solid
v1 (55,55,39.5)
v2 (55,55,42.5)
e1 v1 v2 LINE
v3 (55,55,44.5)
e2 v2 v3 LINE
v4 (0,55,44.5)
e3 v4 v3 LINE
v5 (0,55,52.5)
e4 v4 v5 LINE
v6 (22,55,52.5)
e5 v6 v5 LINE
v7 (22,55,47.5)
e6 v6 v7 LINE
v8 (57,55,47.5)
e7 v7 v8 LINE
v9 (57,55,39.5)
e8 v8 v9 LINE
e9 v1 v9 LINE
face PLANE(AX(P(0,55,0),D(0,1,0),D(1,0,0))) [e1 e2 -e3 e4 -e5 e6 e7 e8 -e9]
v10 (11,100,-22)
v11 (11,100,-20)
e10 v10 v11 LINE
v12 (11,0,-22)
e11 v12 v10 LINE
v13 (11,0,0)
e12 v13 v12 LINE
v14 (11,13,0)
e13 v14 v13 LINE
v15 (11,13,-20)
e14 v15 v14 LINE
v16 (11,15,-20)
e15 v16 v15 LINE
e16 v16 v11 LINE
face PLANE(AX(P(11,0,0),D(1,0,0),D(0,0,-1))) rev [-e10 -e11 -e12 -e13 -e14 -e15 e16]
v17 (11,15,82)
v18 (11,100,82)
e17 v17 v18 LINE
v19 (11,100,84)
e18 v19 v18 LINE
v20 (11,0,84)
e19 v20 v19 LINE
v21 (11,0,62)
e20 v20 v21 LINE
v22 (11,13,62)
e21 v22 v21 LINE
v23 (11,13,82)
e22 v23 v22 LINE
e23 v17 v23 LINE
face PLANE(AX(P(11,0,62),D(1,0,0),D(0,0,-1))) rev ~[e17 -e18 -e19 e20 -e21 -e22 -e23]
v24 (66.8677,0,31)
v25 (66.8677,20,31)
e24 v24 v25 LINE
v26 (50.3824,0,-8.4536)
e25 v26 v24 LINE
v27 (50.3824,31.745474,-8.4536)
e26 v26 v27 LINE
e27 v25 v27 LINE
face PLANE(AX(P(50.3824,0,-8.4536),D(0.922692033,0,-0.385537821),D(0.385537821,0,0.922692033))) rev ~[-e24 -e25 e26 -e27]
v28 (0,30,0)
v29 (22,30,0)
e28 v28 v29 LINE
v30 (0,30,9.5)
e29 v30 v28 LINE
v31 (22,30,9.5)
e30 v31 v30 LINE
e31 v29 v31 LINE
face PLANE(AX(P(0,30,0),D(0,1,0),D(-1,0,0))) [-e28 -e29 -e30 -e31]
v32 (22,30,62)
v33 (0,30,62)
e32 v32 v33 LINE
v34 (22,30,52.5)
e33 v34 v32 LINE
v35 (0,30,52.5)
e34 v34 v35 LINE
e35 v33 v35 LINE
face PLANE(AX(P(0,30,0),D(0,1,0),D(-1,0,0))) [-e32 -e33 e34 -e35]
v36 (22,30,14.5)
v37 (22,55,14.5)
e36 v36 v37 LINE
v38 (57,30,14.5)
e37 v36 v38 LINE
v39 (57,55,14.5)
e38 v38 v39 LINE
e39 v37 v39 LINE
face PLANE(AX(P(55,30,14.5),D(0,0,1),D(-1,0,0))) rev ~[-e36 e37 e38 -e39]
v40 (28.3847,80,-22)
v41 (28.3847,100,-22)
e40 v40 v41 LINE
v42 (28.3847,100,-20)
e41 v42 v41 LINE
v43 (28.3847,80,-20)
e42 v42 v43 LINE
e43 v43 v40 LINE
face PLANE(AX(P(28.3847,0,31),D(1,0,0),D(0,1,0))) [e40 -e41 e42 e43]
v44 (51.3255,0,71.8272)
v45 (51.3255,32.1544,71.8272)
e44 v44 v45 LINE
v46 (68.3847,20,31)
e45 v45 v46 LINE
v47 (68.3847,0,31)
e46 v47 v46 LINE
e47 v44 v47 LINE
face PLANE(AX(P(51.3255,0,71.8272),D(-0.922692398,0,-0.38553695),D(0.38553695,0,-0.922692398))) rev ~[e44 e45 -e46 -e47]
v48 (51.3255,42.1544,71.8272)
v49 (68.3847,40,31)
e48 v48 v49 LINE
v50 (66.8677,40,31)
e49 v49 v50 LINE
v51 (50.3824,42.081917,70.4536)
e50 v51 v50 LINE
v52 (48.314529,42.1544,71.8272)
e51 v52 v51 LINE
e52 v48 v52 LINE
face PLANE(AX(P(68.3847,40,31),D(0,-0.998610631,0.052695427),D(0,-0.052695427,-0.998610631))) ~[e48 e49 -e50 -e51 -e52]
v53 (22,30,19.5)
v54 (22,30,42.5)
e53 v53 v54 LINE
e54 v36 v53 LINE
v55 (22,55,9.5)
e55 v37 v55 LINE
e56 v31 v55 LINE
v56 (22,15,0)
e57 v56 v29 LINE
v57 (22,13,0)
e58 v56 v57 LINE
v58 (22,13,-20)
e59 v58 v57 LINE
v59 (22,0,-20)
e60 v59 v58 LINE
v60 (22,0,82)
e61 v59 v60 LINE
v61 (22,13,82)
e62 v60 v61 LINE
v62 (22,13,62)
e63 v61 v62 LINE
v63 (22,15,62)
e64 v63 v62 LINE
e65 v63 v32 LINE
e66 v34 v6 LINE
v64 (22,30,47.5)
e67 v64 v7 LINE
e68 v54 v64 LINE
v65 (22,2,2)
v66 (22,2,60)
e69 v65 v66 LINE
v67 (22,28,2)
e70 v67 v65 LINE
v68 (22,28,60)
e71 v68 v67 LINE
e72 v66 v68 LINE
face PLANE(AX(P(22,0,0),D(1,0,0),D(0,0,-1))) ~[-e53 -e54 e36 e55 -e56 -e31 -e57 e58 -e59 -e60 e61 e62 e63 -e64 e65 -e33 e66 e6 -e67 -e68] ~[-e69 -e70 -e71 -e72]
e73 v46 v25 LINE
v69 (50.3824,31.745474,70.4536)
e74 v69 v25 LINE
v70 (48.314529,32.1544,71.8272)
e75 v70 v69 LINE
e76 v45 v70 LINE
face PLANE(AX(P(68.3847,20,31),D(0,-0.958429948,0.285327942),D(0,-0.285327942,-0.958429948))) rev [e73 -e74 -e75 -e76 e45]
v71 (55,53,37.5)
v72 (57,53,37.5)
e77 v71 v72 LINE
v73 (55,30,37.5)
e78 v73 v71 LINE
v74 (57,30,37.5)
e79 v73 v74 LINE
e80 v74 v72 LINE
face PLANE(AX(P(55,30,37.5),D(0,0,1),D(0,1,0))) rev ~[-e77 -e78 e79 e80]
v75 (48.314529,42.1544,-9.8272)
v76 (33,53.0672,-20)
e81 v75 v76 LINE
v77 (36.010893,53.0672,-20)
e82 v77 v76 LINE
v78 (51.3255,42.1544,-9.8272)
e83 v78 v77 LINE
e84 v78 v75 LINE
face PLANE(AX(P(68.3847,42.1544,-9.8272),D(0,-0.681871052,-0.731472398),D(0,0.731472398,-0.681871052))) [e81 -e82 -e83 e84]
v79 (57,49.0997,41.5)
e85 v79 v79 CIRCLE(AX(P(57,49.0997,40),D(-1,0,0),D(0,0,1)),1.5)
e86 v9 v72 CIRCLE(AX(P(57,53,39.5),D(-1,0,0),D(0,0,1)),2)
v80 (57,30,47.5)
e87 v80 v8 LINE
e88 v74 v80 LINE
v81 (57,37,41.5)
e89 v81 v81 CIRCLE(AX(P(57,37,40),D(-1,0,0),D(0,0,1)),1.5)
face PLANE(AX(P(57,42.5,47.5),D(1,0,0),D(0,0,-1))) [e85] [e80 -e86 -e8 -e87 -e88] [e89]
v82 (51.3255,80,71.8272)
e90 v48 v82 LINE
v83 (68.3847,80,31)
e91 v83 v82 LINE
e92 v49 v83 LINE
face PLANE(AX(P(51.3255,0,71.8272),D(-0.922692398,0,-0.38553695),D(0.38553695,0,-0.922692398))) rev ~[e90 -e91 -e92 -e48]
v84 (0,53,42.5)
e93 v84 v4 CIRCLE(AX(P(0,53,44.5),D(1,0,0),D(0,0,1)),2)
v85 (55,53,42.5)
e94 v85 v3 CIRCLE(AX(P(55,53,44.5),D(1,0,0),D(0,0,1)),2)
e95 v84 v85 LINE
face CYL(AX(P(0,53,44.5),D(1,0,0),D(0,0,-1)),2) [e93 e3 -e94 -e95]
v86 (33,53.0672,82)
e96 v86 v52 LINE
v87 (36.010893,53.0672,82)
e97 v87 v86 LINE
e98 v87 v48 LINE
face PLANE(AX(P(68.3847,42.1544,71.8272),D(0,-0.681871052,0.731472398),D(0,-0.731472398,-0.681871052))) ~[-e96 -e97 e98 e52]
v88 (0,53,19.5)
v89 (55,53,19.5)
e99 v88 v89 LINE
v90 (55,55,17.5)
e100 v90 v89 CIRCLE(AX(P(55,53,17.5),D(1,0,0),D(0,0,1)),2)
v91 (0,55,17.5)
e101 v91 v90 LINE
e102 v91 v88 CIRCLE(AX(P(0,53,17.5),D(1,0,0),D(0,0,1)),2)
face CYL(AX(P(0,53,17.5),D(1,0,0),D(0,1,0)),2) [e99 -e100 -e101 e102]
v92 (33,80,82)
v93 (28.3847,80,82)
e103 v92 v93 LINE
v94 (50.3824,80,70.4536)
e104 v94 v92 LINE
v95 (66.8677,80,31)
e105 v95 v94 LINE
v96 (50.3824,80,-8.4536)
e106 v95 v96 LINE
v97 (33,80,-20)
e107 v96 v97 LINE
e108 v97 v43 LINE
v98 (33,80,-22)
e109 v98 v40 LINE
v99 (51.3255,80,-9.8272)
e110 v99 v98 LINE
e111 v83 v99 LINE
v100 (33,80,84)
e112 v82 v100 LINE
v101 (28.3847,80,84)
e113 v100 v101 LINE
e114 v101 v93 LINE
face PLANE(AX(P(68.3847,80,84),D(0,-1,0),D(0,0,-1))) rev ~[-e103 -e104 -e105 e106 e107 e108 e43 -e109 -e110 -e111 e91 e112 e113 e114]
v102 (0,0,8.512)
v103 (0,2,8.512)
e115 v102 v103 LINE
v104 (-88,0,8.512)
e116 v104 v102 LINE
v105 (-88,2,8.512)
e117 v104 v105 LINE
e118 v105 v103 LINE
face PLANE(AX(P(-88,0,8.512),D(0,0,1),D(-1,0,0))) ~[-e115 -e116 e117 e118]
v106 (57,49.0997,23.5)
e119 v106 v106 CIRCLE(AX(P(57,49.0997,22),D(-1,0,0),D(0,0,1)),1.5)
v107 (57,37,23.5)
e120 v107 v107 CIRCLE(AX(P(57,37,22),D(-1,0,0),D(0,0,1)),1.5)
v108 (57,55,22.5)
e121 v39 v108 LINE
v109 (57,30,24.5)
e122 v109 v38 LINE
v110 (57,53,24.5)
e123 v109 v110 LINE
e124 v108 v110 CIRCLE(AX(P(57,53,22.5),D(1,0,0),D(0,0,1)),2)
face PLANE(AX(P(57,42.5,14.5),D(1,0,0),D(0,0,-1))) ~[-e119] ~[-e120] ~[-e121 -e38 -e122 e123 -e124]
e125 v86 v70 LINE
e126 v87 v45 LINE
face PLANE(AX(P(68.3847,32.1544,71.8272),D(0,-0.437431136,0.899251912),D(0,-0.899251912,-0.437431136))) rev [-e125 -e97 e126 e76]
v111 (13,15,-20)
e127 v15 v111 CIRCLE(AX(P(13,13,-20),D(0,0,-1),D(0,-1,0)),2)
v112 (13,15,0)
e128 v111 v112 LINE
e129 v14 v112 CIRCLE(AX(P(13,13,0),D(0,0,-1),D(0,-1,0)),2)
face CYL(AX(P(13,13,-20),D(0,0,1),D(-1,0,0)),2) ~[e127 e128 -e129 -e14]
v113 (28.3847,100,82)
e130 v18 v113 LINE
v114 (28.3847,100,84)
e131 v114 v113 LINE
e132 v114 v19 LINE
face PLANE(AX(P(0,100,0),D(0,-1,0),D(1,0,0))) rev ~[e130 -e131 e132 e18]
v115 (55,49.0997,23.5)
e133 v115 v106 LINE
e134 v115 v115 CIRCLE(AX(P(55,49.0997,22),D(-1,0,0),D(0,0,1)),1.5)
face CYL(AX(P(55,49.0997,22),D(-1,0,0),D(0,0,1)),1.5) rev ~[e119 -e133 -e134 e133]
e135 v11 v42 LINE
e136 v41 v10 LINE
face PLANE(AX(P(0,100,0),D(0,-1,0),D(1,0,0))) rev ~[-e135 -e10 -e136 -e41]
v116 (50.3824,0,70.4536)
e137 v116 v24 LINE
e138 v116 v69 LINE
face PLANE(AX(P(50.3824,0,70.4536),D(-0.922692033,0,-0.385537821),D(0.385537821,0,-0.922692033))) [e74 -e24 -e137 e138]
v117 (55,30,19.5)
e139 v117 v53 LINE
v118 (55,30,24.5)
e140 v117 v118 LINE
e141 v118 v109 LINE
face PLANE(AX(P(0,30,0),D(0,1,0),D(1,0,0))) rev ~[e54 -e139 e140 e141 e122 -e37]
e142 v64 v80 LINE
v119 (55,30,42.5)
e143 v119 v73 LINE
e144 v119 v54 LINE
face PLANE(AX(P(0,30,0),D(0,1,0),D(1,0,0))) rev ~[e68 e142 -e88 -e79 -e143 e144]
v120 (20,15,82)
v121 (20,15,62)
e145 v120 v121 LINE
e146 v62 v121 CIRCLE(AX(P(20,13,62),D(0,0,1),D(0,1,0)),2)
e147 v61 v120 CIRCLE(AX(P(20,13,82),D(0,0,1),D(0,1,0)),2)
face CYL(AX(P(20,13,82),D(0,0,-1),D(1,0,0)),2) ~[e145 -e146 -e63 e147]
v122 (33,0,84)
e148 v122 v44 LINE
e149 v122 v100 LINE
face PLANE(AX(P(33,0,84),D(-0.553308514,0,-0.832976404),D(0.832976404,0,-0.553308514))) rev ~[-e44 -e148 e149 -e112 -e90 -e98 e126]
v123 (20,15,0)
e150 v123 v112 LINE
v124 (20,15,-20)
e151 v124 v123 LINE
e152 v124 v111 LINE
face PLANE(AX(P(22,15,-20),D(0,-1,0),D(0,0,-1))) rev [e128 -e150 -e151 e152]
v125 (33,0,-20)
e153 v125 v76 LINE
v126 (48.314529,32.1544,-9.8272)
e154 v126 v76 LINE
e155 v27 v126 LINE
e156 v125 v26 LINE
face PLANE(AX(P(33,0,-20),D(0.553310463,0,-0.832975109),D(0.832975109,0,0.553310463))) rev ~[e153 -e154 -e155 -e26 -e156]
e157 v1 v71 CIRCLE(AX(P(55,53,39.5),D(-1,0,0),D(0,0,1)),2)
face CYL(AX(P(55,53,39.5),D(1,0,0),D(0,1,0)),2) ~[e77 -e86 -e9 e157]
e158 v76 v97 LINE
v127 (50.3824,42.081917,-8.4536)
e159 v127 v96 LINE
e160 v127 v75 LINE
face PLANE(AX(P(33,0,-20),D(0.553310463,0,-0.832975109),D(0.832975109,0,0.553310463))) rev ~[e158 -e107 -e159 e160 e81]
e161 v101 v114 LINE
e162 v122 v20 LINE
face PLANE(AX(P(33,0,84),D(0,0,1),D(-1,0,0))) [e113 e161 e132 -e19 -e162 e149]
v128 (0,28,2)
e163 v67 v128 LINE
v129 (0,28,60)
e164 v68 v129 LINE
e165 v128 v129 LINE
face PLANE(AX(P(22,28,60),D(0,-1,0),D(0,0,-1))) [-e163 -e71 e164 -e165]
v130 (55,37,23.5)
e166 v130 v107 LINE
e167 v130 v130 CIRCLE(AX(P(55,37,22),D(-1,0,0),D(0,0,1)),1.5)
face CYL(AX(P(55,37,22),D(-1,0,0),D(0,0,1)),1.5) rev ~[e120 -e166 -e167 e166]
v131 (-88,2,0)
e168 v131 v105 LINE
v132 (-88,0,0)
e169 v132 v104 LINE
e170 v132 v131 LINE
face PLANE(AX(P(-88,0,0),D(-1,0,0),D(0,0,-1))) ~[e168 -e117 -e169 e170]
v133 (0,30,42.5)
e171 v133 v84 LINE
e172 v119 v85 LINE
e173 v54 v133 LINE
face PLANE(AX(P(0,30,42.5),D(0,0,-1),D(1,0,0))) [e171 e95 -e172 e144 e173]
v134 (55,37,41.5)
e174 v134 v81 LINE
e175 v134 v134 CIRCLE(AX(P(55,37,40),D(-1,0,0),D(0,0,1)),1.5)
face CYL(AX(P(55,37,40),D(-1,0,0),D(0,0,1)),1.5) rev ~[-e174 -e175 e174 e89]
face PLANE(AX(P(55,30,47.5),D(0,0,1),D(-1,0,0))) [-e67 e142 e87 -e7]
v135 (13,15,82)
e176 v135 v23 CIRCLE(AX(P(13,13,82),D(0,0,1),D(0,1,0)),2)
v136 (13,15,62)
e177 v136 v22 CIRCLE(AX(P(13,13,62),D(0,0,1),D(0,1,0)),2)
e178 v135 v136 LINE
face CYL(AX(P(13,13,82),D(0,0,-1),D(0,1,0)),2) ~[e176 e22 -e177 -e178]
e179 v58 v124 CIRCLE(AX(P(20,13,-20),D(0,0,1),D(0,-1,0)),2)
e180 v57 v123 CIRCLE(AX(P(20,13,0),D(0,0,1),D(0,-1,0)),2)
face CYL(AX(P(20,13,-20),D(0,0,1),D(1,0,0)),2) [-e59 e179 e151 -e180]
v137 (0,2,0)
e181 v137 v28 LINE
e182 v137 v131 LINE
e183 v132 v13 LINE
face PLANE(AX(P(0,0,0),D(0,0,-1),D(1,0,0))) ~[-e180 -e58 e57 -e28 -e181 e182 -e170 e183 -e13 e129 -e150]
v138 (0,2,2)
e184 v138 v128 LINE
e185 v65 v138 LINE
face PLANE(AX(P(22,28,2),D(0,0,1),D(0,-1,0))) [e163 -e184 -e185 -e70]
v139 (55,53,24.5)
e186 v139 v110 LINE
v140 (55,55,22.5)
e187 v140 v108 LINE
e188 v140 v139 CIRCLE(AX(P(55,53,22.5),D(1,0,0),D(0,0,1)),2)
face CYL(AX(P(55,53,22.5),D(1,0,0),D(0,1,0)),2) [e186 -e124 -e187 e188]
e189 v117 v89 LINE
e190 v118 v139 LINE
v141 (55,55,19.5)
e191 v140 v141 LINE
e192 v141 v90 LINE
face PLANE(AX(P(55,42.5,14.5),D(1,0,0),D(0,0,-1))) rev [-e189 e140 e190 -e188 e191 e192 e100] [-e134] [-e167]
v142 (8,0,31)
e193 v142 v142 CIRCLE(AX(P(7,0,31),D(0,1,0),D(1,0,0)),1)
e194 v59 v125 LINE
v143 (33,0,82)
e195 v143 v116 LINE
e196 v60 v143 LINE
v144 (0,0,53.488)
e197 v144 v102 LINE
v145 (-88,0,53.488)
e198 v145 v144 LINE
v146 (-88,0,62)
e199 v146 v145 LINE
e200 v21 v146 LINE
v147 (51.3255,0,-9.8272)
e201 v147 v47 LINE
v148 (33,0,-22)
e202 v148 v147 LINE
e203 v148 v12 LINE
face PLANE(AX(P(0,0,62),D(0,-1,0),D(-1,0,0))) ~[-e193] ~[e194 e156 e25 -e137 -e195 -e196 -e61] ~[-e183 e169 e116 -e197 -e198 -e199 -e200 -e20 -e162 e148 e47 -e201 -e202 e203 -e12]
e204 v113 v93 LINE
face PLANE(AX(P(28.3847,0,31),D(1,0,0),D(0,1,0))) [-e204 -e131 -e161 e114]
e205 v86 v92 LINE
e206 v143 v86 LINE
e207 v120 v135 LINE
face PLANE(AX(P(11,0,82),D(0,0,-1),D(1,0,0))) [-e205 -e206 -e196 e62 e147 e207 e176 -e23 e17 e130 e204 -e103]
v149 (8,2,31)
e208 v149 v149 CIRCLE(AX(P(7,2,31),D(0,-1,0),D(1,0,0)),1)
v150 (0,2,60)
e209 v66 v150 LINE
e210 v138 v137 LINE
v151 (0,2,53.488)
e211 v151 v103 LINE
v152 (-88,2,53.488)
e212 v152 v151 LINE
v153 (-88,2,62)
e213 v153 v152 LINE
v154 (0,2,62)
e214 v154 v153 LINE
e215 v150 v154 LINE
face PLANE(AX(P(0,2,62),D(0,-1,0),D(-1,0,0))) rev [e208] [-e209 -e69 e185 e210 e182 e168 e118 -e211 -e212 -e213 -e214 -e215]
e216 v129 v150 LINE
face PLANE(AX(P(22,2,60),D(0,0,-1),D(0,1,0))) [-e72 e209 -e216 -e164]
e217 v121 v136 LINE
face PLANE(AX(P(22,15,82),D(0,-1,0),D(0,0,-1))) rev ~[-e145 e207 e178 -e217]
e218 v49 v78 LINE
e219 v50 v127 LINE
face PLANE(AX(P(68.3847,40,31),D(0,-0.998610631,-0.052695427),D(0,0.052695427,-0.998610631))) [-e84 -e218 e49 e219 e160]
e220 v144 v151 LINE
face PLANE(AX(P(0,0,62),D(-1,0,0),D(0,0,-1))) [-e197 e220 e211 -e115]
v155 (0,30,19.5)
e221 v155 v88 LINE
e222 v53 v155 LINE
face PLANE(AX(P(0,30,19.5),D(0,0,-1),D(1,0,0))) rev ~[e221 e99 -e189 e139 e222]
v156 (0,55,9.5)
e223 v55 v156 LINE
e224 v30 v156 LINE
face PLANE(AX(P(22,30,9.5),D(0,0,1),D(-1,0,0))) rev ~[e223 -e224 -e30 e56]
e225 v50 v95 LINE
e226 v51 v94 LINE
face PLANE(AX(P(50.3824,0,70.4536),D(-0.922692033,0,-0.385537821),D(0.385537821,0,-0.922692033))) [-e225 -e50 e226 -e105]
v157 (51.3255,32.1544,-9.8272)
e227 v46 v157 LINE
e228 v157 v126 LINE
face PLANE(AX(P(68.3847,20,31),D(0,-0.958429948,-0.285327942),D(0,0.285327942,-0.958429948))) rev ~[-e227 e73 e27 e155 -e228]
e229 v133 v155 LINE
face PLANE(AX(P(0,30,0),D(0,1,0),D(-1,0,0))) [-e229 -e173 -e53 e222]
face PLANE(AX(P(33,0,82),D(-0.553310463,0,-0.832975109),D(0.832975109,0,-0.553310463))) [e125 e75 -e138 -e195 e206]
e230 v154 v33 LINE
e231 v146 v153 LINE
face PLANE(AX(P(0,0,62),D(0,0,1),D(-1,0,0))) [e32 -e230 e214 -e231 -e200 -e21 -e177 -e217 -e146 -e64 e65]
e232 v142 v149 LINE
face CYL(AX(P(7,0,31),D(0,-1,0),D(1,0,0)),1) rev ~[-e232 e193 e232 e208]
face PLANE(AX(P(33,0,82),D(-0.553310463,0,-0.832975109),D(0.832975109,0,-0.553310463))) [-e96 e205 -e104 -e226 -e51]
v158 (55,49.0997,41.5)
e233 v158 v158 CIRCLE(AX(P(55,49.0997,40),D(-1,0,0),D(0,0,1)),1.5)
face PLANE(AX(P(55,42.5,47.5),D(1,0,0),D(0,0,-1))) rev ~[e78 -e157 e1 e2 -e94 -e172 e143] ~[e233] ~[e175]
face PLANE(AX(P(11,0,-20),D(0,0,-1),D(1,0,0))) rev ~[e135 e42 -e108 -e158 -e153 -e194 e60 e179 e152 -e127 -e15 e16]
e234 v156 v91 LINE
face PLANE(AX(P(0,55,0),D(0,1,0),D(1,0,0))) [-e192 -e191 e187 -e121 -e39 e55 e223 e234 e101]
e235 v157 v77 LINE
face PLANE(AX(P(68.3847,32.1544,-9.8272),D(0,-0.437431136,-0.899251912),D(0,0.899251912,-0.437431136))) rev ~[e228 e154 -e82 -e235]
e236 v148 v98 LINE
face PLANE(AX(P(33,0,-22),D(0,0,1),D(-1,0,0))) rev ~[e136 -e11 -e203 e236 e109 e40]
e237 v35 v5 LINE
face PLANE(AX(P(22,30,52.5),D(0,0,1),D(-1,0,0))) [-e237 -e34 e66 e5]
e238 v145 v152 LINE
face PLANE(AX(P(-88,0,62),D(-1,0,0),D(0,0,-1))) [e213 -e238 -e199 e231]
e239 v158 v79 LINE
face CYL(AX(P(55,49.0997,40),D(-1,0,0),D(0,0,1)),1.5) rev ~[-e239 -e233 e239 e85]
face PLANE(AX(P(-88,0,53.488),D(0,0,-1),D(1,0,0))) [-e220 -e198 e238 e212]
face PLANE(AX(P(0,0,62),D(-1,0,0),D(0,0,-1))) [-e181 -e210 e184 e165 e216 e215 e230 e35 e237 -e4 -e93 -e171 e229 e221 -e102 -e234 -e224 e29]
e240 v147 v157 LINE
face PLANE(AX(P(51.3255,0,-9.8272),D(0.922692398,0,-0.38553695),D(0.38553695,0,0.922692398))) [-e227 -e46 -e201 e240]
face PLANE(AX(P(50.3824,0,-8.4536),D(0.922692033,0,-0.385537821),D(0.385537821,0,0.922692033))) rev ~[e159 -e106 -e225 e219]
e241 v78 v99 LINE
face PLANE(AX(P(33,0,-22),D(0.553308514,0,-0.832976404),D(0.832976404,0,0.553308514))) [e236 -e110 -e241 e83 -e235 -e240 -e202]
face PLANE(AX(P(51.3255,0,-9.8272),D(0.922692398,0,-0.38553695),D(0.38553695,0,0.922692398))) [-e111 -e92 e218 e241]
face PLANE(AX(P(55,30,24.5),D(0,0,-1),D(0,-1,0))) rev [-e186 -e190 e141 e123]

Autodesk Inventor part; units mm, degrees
sketch "Boceto1" plane through (0, 0, 0) normal (0, 1, 0) x (-1, 0, 0)
  line L0 (0, 0) -> (-22, 0)
  line L1 (-22, 0) -> (-22, 62)
  line L2 (-22, 62) -> (0, 62)
  line L3 (0, 62) -> (0, 0)
  dimension "d0" = 62
  dimension "d1" = 22
extrude "Extrusión1" add sketch "Boceto1" along normal blind 30
sketch "Boceto2" plane through (22, 0, 62) normal (1, 0, 0) x (0, 0, -1)
  line L0 (62, 0) -> (0, 0) projected
  line L1 (62, 0) -> (62, 30) projected
  line L2 (0, 30) -> (62, 30) projected
  line L3 (0, 0) -> (0, 30) projected
  line L4 (2, 28) -> (60, 28)
  line L5 (60, 28) -> (60, 2)
  line L6 (60, 2) -> (2, 2)
  line L7 (2, 2) -> (2, 28)
  dimension "d4" = 2
  dimension "d5" = 2
  dimension "d6" = 2
  dimension "d7" = 2
extrude "Extrusión2" cut sketch "Boceto2" against normal blind 30 contours L4 L5 L6 L7
sketch "Boceto3" plane through (0, 0, 0) normal (0, -1, 0) x (1, 0, 0)
  line L0 (0, 0) -> (22, 0) projected
  line L1 (22, 62) -> (0, 62) projected
  line L2 (22, 62) -> (7, 62)
  line L3 (7, 62) -> (7, 31)
  circle A0 centre (7, 31) radius 1
  dimension "d10" = 15
  dimension "d11" = 31
  dimension "d12" = 2
extrude "Extrusión3" cut sketch "Boceto3" against normal blind 15
sketch "Boceto4" plane through (0, 0, 62) normal (0, 0, 1) x (1, 0, 0)
  line L0 (22, 0) -> (0, 0) projected
  line L1 (22, 0) -> (22, 30) projected
  line L2 (0, 30) -> (22, 30) projected
  line L3 (0, 0) -> (0, 30) projected
sketch "Boceto5" plane through (0, 0, 62) normal (0, 0, 1) x (1, 0, 0)
  line L0 (22, 0) -> (0, 0) projected
  line L1 (22, 0) -> (22, 30) projected
  line L2 (0, 30) -> (22, 30) projected
  line L3 (0, 0) -> (0, 30) projected
sketch "Boceto7" plane through (0, 0, 62) normal (0, 0, 1) x (1, 0, 0)
  line L0 (22, 0) -> (0, 0) projected
  line L1 (22, 0) -> (22, 30) projected
  line L2 (0, 30) -> (22, 30) projected
  line L3 (0, 0) -> (0, 30) projected
  line L4 (0, 30) -> (22, 30)
  line L5 (22, 30) -> (22, 0)
  line L6 (22, 0) -> (0, 0)
  line L7 (0, 0) -> (0, 30)
  line L8 (22, 0) -> (11, 0)
  line L9 (11, 0) -> (11, 15)
  line L10 (11, 15) -> (22, 15)
  line L11 (22, 15) -> (22, 0)
  dimension "d17" = 15
  dimension "d18" = 11
sketch "Boceto9" plane through (0, 0, 62) normal (0, 0, 1) x (1, 0, 0)
  line L0 (22, 0) -> (0, 0) projected
  line L1 (22, 0) -> (22, 30) projected
  line L2 (0, 30) -> (22, 30) projected
  line L3 (0, 0) -> (0, 30) projected
sketch "Boceto10" plane through (22, 0, 62) normal (1, 0, 0) x (0, 0, -1)
  line L0 (62, 0) -> (0, 0) projected
  line L1 (0, 30) -> (62, 30) projected
  line L2 (0, 30) -> (31, 30) construction
  line L3 (31, 30) -> (31, 0) construction
  line L4 (0, 0) -> (-20, 0)
  line L5 (-20, 0) -> (-20, 15)
  line L6 (-20, 15) -> (0, 15)
  line L7 (0, 15) -> (0, 0)
  line L8 (62, 0) -> (62, 30)
  line L9 (62, 0) -> (82, 0)
  line L10 (82, 0) -> (82, 15)
  line L11 (82, 15) -> (62, 15)
  line L12 (0, 30) -> (62, 30)
  line L13 (62, 30) -> (62, 0)
  line L14 (62, 0) -> (0, 0)
  line L15 (0, 0) -> (0, 30)
  line L16 (2, 28) -> (60, 28)
  line L17 (60, 28) -> (60, 2)
  line L18 (60, 2) -> (2, 2)
  line L19 (2, 2) -> (2, 28)
  dimension "d20" = 31
  dimension "d21" = 20
  dimension "d22" = 15
extrude "Extrusión4" add sketch "Boceto10" against normal blind 11 contours L4 L5 L6 L7
ref_plane "Plano de trabajo3" through (0, 30, 31) normal (0, 0, 1) x (1, 0, 0)
mirror "Simetría1" about plane through (0, 30, 31) normal (0, 0, 1) of "Extrusión4"
sketch "Boceto11" plane through (0, 0, 0) normal (0, -1, 0) x (1, 0, 0)
  line L0 (11, 0) -> (11, -20) projected
  line L1 (0, 62) -> (0, 0) projected
  line L2 (11, 82) -> (33, 82)
  line L3 (33, 82) -> (33, 84)
  line L4 (33, 84) -> (11, 84)
  line L5 (11, 84) -> (11, 82)
  line L6 (0, 31) -> (103.8517, 31) construction
  line L7 (11, 62) -> (11, 0) construction
  circle A0 centre (11, 31) radius 57.3847 construction
  line L8 (33, 84) -> (51.3255, 71.8272)
  line L9 (51.3255, 71.8272) -> (68.3847, 31)
  line L10 (33, 82) -> (50.3824, 70.4536)
  line L11 (50.3824, 70.4536) -> (66.8677, 31)
  line L12 (68.3847, 31) -> (66.8677, 31)
  line L13 (11, -20) -> (33, -20)
  line L14 (33, -20) -> (33, -22)
  line L15 (33, -22) -> (11, -22)
  line L16 (11, -22) -> (11, -20)
  line L17 (33, -22) -> (51.3255, -9.8272)
  line L18 (51.3255, -9.8272) -> (68.3847, 31)
  line L19 (33, -20) -> (50.3824, -8.4536)
  line L20 (50.3824, -8.4536) -> (66.8677, 31)
  dimension "d25" = 22
  dimension "d26" = 2
  dimension "d27" = 22
  dimension "d28" = 39.4536
extrude "Extrusión5" add sketch "Boceto11" against normal blind 100
ref_plane "Plano de trabajo4" through (68.3847, 0, 31) normal (1, 0, 0) x (0, 1, 0)
sketch "Boceto12" plane through (68.3847, 0, 31) normal (1, 0, 0) x (0, 1, 0)
  point P0 (0, -31)
sketch "Boceto13" plane through (68.3847, 0, 31) normal (1, 0, 0) x (0, 1, 0)
  line L0 (0, 40.8272) -> (0, 53) projected
  line L1 (0, 40.8272) -> (100, 40.8272) projected
  line L2 (100, 53) -> (100, 40.8272) projected
  line L3 (0, 53) -> (100, 53) projected
  line L4 (0, 0) -> (0, 40.8272) projected
  line L5 (0, 0) -> (100, 0) projected
  line L6 (100, 40.8272) -> (100, 0) projected
  line L7 (0, 40.8272) -> (100, 40.8272) projected
  line L8 (0, -40.8272) -> (0, 0) projected
  line L9 (0, -40.8272) -> (100, -40.8272) projected
  line L10 (100, 0) -> (100, -40.8272) projected
  line L11 (0, 0) -> (100, 0) projected
  line L12 (0, -53) -> (0, -40.8272) projected
  line L13 (0, -53) -> (100, -53) projected
  line L14 (100, -40.8272) -> (100, -53) projected
  line L15 (0, -40.8272) -> (100, -40.8272) projected
  line L16 (0, 0) -> (20, 0) construction
  line L17 (0, -51) -> (100, -51) projected
  line L18 (20, 0) -> (32.1544, -40.8272)
  line L19 (32.1544, -40.8272) -> (53.0672, -51)
  line L20 (32.1544, -40.8272) -> (42.1544, -40.8272) construction
  line L21 (20, 0) -> (40, 0) construction
  line L22 (40, 0) -> (42.1544, -40.8272)
  line L23 (42.1544, -40.8272) -> (53.0672, -51)
  line L24 (40, 0) -> (20, 0)
  line L25 (20, 0) -> (0, 0)
  line L26 (42.1544, -40.8272) -> (32.1544, -40.8272)
  line L27 (0, 51) -> (100, 51) projected
  line L28 (20, 0) -> (32.1544, 40.8272)
  line L29 (32.1544, 40.8272) -> (53.0672, 51)
  line L30 (40, 0) -> (42.1544, 40.8272)
  line L31 (42.1544, 40.8272) -> (53.0672, 51)
  point P0 (0, -31)
  dimension "d32" = 20
  dimension "d33" = 10
  dimension "d34" = 20
  dimension "d35" = 20.9128
extrude "Extrusión6" cut sketch "Boceto13" against normal blind 40 contours L5 L22 L9 L18 | L9 L23 L19
ref_plane "Plano de trabajo5" through (11, 0, 31) normal (0, 0, 1) x (1, 0, 0)
mirror "Simetría2" about plane through (11, 0, 31) normal (0, 0, 1) of "Extrusión6"
sketch "Boceto14" plane through (68.3847, 0, 31) normal (1, 0, 0) x (0, 1, 0)
  line L0 (32.1544, 40.8272) -> (53.0672, 51) projected
  line L1 (53.0672, 51) -> (42.1544, 40.8272) projected
  line L2 (42.1544, 40.8272) -> (100, 40.8272) projected
  line L3 (100, 53) -> (100, 40.8272) projected
  line L4 (0, 53) -> (100, 53) projected
  line L5 (0, 40.8272) -> (0, 53) projected
  line L6 (0, 40.8272) -> (32.1544, 40.8272) projected
  line L7 (42.1544, 40.8272) -> (40, 0) projected
  line L8 (40, 0) -> (100, 0) projected
  line L9 (100, 40.8272) -> (100, 0) projected
  line L10 (42.1544, 40.8272) -> (100, 40.8272) projected
  line L11 (40, 0) -> (42.1544, -40.8272) projected
  line L12 (42.1544, -40.8272) -> (100, -40.8272) projected
  line L13 (100, 0) -> (100, -40.8272) projected
  line L14 (40, 0) -> (100, 0) projected
  line L15 (53.0672, -51) -> (32.1544, -40.8272) projected
  line L16 (0, -40.8272) -> (32.1544, -40.8272) projected
  line L17 (0, -53) -> (0, -40.8272) projected
  line L18 (0, -53) -> (100, -53) projected
  line L19 (100, -40.8272) -> (100, -53) projected
  line L20 (42.1544, -40.8272) -> (100, -40.8272) projected
  line L21 (42.1544, -40.8272) -> (53.0672, -51) projected
  line L22 (32.1544, -40.8272) -> (20, 0) projected
  line L23 (0, 0) -> (20, 0) projected
  line L24 (0, -40.8272) -> (0, 0) projected
  line L25 (0, -40.8272) -> (32.1544, -40.8272) projected
  line L26 (20, 0) -> (32.1544, 40.8272) projected
  line L27 (0, 40.8272) -> (32.1544, 40.8272) projected
  line L28 (0, 0) -> (0, 40.8272) projected
  line L29 (0, 0) -> (20, 0) projected
  line L30 (100, 53) -> (80, 53)
  line L31 (80, 53) -> (80, -53)
  line L32 (100, -53) -> (100, 53)
  line L33 (80, -53) -> (100, -53)
  point P0 (0, -31)
  dimension "d38" = 20
extrude "Extrusión7" cut sketch "Boceto14" against normal blind 40 contours L31 L4 L3 L2 | L2 L9 L8 L31 | L8 L13 L12 L31 | L12 L19 L18 L31
sketch "Boceto15" plane through (0, 30, 0) normal (0, 1, 0) x (1, 0, 0)
  line L0 (0, 0) -> (0, -62) projected
  line L1 (22, -62) -> (22, 0) projected
  line L2 (0, -31) -> (22, -31) construction
  line L3 (22, -31) -> (22, -19.5) construction
  line L4 (22, -31) -> (22, -42.5) construction
  line L5 (0, -19.5) -> (55, -19.5)
  line L6 (55, -19.5) -> (55, -14.5)
  line L7 (55, -14.5) -> (22, -14.5)
  line L8 (22, -14.5) -> (22, -9.5)
  line L9 (22, -9.5) -> (0, -9.5)
  line L10 (0, -19.5) -> (0, -9.5)
  line L11 (0, -9.5) -> (0, -19.5)
  line L12 (0, -42.5) -> (55, -42.5)
  line L13 (55, -42.5) -> (55, -47.5)
  line L14 (55, -47.5) -> (22, -47.5)
  line L15 (22, -47.5) -> (22, -52.5)
  line L16 (22, -52.5) -> (0, -52.5)
  line L17 (0, -52.5) -> (0, -42.5)
  dimension "d41" = 11.5
  dimension "d42" = 11.5
  dimension "d43" = 55
  dimension "d44" = 5
  dimension "d45" = 5
extrude "Extrusión8" add sketch "Boceto15" along normal blind 25 contours L9 L1 L5 L0 | L12 L1 L16 L0 | L1 L7 L6 L5 | L12 L13 L14 L1
ref_plane "Plano de trabajo6" through (55, 42.5, 47.5) normal (1, 0, 0) x (0, 0, -1)
sketch "Boceto16" plane through (55, 42.5, 47.5) normal (1, 0, 0) x (0, 0, -1)
  line L0 (28, -12.5) -> (33, -12.5) projected
  line L1 (33, -12.5) -> (33, 12.5) projected
  line L2 (28, 12.5) -> (33, 12.5) projected
  line L3 (28, -12.5) -> (28, 12.5) projected
  line L4 (0, -12.5) -> (5, -12.5) projected
  line L5 (5, -12.5) -> (5, 12.5) projected
  line L6 (0, 12.5) -> (5, 12.5) projected
  line L7 (0, -12.5) -> (0, 12.5) projected
  line L8 (0, -12.5) -> (10, -12.5)
  line L9 (10, -12.5) -> (10, 12.5)
  line L10 (10, 12.5) -> (0, 12.5)
  line L11 (0, 12.5) -> (0, -12.5)
  line L12 (5, 0) -> (16.5, 0) construction
  line L13 (-12.5, -40.5) -> (-12.5, -14.5) construction
  line L14 (-12.5, -14.5) -> (45.5, -14.5) construction
  line L15 (45.5, -14.5) -> (45.5, -40.5) construction
  line L16 (45.5, -40.5) -> (-12.5, -40.5) construction
  line L17 (67.5, -42.5) -> (-34.5, -42.5) construction
  line L18 (67.5, -27.5) -> (67.5, -42.5) construction
  line L19 (47.5, -27.5) -> (67.5, -27.5) construction
  line L20 (47.5, -27.5) -> (47.5, -12.5) construction
  line L21 (38, -12.5) -> (47.5, -12.5) construction
  line L22 (38, -12.5) -> (38, 12.5) construction
  line L23 (33, 12.5) -> (38, 12.5) construction
  line L24 (33, -12.5) -> (33, 12.5) construction
  line L25 (28, -12.5) -> (33, -12.5) construction
  line L26 (5, -12.5) -> (28, -12.5) construction
  line L27 (0, -12.5) -> (5, -12.5) construction
  line L28 (0, -12.5) -> (0, 12.5) construction
  line L29 (-5, 12.5) -> (0, 12.5) construction
  line L30 (-5, -12.5) -> (-5, 12.5) construction
  line L31 (-14.5, -12.5) -> (-5, -12.5) construction
  line L32 (-14.5, -27.5) -> (-14.5, -12.5) construction
  line L33 (-14.5, -27.5) -> (-34.5, -27.5) construction
  line L34 (-34.5, -27.5) -> (-34.5, -42.5) construction
  line L35 (16.5, -12.5) -> (16.5, -3.1507) construction
  line L36 (33, -12.5) -> (28, -12.5)
  line L37 (33, 12.5) -> (28, 12.5)
  line L38 (33, -12.5) -> (33, 12.5)
  line L39 (33, -12.5) -> (23, -12.5)
  line L40 (23, -12.5) -> (23, 12.5)
  line L41 (23, 12.5) -> (33, 12.5)
  point P0 (47.5, -42.5)
  dimension "d49" = 25
  dimension "d50" = 11.5
  dimension "d51" = 11.5
extrude "Extrusión9" add sketch "Boceto16" along normal blind 2 contours L7 L6 L5 L4 | L5 L10 L9 L8
ref_plane "Plano de trabajo7" through (33, 0, 31) normal (0, 0, -1) x (-1, 0, 0)
mirror "Simetría3" about plane through (33, 0, 31) normal (0, 0, -1) of "Extrusión9"
ref_plane "Plano de trabajo8" through (55, 42.5, 24.5) normal (-1, 0, 0) x (0, 0, 1)
sketch "Boceto17" plane through (55, 42.5, 24.5) normal (-1, 0, 0) x (0, 0, 1)
  line L0 (-5, -12.5) -> (-5, 12.5) projected
  line L1 (-5, -12.5) -> (0, -12.5) projected
  line L2 (0, -12.5) -> (0, 12.5) projected
  line L3 (0, 12.5) -> (-5, 12.5) projected
  line L4 (18, -12.5) -> (18, 12.5) projected
  line L5 (13, 12.5) -> (18, 12.5) projected
  line L6 (13, -12.5) -> (13, 12.5) projected
  line L7 (18, -12.5) -> (13, -12.5) projected
  line L8 (18, -12.5) -> (18, -5.5) construction
  line L9 (18, -5.5) -> (15.5, -5.5) construction
  circle A0 centre (15.5, -5.5) radius 1.5 construction
  circle A1 centre (15.5, -5.5) radius 1.5
  circle A2 centre (15.5, 6.5997) radius 1.5
  circle A3 centre (-2.5, 6.5997) radius 1.5
  circle A4 centre (-2.5, -5.5) radius 1.5
  point P0 (-24.5, -42.5)
  dimension "d54" = 7
  dimension "d55" = 2.5
  dimension "d56" = 3
  dimension "d57" = 3
  dimension "d58" = 3
  dimension "d59" = 3
  dimension "d60" = 3
extrude "Extrusión10" cut sketch "Boceto17" against normal blind 5 contours A1 | A2 | A3 | A4
sketch "Boceto18" plane through (0, 0, 0) normal (0, -1, 0) x (1, 0, 0)
  line L0 (0, 62) -> (-88, 62)
  line L1 (-88, 62) -> (-88, 53.488)
  line L2 (-88, 53.488) -> (0, 53.488)
  line L3 (0, 53.488) -> (0, 62)
  dimension "d63" = 88
extrude "Extrusión11" add sketch "Boceto18" against normal blind 2
mirror "Simetría4" about plane through (33, 0, 31) normal (0, 0, -1) of "Extrusión11"
fillet "Empalme1" radius 2 1 edges at (27.5, 55, 19.5)
fillet "Empalme2" radius 2 1 edges at (27.5, 55, 42.5)
fillet "Empalme3" radius 2 1 edges at (56, 55, 37.5)
fillet "Empalme4" radius 2 1 edges at (56, 55, 24.5)
fillet "Empalme5" radius 2 1 edges at (11, 15, 72)
fillet "Empalme6" radius 2 1 edges at (11, 15, -10)
fillet "Empalme7" radius 2 1 edges at (22, 15, 72)
fillet "Empalme8" radius 2 1 edges at (22, 15, -10)
properties part number "Face" material "Madera (cerezo)"
